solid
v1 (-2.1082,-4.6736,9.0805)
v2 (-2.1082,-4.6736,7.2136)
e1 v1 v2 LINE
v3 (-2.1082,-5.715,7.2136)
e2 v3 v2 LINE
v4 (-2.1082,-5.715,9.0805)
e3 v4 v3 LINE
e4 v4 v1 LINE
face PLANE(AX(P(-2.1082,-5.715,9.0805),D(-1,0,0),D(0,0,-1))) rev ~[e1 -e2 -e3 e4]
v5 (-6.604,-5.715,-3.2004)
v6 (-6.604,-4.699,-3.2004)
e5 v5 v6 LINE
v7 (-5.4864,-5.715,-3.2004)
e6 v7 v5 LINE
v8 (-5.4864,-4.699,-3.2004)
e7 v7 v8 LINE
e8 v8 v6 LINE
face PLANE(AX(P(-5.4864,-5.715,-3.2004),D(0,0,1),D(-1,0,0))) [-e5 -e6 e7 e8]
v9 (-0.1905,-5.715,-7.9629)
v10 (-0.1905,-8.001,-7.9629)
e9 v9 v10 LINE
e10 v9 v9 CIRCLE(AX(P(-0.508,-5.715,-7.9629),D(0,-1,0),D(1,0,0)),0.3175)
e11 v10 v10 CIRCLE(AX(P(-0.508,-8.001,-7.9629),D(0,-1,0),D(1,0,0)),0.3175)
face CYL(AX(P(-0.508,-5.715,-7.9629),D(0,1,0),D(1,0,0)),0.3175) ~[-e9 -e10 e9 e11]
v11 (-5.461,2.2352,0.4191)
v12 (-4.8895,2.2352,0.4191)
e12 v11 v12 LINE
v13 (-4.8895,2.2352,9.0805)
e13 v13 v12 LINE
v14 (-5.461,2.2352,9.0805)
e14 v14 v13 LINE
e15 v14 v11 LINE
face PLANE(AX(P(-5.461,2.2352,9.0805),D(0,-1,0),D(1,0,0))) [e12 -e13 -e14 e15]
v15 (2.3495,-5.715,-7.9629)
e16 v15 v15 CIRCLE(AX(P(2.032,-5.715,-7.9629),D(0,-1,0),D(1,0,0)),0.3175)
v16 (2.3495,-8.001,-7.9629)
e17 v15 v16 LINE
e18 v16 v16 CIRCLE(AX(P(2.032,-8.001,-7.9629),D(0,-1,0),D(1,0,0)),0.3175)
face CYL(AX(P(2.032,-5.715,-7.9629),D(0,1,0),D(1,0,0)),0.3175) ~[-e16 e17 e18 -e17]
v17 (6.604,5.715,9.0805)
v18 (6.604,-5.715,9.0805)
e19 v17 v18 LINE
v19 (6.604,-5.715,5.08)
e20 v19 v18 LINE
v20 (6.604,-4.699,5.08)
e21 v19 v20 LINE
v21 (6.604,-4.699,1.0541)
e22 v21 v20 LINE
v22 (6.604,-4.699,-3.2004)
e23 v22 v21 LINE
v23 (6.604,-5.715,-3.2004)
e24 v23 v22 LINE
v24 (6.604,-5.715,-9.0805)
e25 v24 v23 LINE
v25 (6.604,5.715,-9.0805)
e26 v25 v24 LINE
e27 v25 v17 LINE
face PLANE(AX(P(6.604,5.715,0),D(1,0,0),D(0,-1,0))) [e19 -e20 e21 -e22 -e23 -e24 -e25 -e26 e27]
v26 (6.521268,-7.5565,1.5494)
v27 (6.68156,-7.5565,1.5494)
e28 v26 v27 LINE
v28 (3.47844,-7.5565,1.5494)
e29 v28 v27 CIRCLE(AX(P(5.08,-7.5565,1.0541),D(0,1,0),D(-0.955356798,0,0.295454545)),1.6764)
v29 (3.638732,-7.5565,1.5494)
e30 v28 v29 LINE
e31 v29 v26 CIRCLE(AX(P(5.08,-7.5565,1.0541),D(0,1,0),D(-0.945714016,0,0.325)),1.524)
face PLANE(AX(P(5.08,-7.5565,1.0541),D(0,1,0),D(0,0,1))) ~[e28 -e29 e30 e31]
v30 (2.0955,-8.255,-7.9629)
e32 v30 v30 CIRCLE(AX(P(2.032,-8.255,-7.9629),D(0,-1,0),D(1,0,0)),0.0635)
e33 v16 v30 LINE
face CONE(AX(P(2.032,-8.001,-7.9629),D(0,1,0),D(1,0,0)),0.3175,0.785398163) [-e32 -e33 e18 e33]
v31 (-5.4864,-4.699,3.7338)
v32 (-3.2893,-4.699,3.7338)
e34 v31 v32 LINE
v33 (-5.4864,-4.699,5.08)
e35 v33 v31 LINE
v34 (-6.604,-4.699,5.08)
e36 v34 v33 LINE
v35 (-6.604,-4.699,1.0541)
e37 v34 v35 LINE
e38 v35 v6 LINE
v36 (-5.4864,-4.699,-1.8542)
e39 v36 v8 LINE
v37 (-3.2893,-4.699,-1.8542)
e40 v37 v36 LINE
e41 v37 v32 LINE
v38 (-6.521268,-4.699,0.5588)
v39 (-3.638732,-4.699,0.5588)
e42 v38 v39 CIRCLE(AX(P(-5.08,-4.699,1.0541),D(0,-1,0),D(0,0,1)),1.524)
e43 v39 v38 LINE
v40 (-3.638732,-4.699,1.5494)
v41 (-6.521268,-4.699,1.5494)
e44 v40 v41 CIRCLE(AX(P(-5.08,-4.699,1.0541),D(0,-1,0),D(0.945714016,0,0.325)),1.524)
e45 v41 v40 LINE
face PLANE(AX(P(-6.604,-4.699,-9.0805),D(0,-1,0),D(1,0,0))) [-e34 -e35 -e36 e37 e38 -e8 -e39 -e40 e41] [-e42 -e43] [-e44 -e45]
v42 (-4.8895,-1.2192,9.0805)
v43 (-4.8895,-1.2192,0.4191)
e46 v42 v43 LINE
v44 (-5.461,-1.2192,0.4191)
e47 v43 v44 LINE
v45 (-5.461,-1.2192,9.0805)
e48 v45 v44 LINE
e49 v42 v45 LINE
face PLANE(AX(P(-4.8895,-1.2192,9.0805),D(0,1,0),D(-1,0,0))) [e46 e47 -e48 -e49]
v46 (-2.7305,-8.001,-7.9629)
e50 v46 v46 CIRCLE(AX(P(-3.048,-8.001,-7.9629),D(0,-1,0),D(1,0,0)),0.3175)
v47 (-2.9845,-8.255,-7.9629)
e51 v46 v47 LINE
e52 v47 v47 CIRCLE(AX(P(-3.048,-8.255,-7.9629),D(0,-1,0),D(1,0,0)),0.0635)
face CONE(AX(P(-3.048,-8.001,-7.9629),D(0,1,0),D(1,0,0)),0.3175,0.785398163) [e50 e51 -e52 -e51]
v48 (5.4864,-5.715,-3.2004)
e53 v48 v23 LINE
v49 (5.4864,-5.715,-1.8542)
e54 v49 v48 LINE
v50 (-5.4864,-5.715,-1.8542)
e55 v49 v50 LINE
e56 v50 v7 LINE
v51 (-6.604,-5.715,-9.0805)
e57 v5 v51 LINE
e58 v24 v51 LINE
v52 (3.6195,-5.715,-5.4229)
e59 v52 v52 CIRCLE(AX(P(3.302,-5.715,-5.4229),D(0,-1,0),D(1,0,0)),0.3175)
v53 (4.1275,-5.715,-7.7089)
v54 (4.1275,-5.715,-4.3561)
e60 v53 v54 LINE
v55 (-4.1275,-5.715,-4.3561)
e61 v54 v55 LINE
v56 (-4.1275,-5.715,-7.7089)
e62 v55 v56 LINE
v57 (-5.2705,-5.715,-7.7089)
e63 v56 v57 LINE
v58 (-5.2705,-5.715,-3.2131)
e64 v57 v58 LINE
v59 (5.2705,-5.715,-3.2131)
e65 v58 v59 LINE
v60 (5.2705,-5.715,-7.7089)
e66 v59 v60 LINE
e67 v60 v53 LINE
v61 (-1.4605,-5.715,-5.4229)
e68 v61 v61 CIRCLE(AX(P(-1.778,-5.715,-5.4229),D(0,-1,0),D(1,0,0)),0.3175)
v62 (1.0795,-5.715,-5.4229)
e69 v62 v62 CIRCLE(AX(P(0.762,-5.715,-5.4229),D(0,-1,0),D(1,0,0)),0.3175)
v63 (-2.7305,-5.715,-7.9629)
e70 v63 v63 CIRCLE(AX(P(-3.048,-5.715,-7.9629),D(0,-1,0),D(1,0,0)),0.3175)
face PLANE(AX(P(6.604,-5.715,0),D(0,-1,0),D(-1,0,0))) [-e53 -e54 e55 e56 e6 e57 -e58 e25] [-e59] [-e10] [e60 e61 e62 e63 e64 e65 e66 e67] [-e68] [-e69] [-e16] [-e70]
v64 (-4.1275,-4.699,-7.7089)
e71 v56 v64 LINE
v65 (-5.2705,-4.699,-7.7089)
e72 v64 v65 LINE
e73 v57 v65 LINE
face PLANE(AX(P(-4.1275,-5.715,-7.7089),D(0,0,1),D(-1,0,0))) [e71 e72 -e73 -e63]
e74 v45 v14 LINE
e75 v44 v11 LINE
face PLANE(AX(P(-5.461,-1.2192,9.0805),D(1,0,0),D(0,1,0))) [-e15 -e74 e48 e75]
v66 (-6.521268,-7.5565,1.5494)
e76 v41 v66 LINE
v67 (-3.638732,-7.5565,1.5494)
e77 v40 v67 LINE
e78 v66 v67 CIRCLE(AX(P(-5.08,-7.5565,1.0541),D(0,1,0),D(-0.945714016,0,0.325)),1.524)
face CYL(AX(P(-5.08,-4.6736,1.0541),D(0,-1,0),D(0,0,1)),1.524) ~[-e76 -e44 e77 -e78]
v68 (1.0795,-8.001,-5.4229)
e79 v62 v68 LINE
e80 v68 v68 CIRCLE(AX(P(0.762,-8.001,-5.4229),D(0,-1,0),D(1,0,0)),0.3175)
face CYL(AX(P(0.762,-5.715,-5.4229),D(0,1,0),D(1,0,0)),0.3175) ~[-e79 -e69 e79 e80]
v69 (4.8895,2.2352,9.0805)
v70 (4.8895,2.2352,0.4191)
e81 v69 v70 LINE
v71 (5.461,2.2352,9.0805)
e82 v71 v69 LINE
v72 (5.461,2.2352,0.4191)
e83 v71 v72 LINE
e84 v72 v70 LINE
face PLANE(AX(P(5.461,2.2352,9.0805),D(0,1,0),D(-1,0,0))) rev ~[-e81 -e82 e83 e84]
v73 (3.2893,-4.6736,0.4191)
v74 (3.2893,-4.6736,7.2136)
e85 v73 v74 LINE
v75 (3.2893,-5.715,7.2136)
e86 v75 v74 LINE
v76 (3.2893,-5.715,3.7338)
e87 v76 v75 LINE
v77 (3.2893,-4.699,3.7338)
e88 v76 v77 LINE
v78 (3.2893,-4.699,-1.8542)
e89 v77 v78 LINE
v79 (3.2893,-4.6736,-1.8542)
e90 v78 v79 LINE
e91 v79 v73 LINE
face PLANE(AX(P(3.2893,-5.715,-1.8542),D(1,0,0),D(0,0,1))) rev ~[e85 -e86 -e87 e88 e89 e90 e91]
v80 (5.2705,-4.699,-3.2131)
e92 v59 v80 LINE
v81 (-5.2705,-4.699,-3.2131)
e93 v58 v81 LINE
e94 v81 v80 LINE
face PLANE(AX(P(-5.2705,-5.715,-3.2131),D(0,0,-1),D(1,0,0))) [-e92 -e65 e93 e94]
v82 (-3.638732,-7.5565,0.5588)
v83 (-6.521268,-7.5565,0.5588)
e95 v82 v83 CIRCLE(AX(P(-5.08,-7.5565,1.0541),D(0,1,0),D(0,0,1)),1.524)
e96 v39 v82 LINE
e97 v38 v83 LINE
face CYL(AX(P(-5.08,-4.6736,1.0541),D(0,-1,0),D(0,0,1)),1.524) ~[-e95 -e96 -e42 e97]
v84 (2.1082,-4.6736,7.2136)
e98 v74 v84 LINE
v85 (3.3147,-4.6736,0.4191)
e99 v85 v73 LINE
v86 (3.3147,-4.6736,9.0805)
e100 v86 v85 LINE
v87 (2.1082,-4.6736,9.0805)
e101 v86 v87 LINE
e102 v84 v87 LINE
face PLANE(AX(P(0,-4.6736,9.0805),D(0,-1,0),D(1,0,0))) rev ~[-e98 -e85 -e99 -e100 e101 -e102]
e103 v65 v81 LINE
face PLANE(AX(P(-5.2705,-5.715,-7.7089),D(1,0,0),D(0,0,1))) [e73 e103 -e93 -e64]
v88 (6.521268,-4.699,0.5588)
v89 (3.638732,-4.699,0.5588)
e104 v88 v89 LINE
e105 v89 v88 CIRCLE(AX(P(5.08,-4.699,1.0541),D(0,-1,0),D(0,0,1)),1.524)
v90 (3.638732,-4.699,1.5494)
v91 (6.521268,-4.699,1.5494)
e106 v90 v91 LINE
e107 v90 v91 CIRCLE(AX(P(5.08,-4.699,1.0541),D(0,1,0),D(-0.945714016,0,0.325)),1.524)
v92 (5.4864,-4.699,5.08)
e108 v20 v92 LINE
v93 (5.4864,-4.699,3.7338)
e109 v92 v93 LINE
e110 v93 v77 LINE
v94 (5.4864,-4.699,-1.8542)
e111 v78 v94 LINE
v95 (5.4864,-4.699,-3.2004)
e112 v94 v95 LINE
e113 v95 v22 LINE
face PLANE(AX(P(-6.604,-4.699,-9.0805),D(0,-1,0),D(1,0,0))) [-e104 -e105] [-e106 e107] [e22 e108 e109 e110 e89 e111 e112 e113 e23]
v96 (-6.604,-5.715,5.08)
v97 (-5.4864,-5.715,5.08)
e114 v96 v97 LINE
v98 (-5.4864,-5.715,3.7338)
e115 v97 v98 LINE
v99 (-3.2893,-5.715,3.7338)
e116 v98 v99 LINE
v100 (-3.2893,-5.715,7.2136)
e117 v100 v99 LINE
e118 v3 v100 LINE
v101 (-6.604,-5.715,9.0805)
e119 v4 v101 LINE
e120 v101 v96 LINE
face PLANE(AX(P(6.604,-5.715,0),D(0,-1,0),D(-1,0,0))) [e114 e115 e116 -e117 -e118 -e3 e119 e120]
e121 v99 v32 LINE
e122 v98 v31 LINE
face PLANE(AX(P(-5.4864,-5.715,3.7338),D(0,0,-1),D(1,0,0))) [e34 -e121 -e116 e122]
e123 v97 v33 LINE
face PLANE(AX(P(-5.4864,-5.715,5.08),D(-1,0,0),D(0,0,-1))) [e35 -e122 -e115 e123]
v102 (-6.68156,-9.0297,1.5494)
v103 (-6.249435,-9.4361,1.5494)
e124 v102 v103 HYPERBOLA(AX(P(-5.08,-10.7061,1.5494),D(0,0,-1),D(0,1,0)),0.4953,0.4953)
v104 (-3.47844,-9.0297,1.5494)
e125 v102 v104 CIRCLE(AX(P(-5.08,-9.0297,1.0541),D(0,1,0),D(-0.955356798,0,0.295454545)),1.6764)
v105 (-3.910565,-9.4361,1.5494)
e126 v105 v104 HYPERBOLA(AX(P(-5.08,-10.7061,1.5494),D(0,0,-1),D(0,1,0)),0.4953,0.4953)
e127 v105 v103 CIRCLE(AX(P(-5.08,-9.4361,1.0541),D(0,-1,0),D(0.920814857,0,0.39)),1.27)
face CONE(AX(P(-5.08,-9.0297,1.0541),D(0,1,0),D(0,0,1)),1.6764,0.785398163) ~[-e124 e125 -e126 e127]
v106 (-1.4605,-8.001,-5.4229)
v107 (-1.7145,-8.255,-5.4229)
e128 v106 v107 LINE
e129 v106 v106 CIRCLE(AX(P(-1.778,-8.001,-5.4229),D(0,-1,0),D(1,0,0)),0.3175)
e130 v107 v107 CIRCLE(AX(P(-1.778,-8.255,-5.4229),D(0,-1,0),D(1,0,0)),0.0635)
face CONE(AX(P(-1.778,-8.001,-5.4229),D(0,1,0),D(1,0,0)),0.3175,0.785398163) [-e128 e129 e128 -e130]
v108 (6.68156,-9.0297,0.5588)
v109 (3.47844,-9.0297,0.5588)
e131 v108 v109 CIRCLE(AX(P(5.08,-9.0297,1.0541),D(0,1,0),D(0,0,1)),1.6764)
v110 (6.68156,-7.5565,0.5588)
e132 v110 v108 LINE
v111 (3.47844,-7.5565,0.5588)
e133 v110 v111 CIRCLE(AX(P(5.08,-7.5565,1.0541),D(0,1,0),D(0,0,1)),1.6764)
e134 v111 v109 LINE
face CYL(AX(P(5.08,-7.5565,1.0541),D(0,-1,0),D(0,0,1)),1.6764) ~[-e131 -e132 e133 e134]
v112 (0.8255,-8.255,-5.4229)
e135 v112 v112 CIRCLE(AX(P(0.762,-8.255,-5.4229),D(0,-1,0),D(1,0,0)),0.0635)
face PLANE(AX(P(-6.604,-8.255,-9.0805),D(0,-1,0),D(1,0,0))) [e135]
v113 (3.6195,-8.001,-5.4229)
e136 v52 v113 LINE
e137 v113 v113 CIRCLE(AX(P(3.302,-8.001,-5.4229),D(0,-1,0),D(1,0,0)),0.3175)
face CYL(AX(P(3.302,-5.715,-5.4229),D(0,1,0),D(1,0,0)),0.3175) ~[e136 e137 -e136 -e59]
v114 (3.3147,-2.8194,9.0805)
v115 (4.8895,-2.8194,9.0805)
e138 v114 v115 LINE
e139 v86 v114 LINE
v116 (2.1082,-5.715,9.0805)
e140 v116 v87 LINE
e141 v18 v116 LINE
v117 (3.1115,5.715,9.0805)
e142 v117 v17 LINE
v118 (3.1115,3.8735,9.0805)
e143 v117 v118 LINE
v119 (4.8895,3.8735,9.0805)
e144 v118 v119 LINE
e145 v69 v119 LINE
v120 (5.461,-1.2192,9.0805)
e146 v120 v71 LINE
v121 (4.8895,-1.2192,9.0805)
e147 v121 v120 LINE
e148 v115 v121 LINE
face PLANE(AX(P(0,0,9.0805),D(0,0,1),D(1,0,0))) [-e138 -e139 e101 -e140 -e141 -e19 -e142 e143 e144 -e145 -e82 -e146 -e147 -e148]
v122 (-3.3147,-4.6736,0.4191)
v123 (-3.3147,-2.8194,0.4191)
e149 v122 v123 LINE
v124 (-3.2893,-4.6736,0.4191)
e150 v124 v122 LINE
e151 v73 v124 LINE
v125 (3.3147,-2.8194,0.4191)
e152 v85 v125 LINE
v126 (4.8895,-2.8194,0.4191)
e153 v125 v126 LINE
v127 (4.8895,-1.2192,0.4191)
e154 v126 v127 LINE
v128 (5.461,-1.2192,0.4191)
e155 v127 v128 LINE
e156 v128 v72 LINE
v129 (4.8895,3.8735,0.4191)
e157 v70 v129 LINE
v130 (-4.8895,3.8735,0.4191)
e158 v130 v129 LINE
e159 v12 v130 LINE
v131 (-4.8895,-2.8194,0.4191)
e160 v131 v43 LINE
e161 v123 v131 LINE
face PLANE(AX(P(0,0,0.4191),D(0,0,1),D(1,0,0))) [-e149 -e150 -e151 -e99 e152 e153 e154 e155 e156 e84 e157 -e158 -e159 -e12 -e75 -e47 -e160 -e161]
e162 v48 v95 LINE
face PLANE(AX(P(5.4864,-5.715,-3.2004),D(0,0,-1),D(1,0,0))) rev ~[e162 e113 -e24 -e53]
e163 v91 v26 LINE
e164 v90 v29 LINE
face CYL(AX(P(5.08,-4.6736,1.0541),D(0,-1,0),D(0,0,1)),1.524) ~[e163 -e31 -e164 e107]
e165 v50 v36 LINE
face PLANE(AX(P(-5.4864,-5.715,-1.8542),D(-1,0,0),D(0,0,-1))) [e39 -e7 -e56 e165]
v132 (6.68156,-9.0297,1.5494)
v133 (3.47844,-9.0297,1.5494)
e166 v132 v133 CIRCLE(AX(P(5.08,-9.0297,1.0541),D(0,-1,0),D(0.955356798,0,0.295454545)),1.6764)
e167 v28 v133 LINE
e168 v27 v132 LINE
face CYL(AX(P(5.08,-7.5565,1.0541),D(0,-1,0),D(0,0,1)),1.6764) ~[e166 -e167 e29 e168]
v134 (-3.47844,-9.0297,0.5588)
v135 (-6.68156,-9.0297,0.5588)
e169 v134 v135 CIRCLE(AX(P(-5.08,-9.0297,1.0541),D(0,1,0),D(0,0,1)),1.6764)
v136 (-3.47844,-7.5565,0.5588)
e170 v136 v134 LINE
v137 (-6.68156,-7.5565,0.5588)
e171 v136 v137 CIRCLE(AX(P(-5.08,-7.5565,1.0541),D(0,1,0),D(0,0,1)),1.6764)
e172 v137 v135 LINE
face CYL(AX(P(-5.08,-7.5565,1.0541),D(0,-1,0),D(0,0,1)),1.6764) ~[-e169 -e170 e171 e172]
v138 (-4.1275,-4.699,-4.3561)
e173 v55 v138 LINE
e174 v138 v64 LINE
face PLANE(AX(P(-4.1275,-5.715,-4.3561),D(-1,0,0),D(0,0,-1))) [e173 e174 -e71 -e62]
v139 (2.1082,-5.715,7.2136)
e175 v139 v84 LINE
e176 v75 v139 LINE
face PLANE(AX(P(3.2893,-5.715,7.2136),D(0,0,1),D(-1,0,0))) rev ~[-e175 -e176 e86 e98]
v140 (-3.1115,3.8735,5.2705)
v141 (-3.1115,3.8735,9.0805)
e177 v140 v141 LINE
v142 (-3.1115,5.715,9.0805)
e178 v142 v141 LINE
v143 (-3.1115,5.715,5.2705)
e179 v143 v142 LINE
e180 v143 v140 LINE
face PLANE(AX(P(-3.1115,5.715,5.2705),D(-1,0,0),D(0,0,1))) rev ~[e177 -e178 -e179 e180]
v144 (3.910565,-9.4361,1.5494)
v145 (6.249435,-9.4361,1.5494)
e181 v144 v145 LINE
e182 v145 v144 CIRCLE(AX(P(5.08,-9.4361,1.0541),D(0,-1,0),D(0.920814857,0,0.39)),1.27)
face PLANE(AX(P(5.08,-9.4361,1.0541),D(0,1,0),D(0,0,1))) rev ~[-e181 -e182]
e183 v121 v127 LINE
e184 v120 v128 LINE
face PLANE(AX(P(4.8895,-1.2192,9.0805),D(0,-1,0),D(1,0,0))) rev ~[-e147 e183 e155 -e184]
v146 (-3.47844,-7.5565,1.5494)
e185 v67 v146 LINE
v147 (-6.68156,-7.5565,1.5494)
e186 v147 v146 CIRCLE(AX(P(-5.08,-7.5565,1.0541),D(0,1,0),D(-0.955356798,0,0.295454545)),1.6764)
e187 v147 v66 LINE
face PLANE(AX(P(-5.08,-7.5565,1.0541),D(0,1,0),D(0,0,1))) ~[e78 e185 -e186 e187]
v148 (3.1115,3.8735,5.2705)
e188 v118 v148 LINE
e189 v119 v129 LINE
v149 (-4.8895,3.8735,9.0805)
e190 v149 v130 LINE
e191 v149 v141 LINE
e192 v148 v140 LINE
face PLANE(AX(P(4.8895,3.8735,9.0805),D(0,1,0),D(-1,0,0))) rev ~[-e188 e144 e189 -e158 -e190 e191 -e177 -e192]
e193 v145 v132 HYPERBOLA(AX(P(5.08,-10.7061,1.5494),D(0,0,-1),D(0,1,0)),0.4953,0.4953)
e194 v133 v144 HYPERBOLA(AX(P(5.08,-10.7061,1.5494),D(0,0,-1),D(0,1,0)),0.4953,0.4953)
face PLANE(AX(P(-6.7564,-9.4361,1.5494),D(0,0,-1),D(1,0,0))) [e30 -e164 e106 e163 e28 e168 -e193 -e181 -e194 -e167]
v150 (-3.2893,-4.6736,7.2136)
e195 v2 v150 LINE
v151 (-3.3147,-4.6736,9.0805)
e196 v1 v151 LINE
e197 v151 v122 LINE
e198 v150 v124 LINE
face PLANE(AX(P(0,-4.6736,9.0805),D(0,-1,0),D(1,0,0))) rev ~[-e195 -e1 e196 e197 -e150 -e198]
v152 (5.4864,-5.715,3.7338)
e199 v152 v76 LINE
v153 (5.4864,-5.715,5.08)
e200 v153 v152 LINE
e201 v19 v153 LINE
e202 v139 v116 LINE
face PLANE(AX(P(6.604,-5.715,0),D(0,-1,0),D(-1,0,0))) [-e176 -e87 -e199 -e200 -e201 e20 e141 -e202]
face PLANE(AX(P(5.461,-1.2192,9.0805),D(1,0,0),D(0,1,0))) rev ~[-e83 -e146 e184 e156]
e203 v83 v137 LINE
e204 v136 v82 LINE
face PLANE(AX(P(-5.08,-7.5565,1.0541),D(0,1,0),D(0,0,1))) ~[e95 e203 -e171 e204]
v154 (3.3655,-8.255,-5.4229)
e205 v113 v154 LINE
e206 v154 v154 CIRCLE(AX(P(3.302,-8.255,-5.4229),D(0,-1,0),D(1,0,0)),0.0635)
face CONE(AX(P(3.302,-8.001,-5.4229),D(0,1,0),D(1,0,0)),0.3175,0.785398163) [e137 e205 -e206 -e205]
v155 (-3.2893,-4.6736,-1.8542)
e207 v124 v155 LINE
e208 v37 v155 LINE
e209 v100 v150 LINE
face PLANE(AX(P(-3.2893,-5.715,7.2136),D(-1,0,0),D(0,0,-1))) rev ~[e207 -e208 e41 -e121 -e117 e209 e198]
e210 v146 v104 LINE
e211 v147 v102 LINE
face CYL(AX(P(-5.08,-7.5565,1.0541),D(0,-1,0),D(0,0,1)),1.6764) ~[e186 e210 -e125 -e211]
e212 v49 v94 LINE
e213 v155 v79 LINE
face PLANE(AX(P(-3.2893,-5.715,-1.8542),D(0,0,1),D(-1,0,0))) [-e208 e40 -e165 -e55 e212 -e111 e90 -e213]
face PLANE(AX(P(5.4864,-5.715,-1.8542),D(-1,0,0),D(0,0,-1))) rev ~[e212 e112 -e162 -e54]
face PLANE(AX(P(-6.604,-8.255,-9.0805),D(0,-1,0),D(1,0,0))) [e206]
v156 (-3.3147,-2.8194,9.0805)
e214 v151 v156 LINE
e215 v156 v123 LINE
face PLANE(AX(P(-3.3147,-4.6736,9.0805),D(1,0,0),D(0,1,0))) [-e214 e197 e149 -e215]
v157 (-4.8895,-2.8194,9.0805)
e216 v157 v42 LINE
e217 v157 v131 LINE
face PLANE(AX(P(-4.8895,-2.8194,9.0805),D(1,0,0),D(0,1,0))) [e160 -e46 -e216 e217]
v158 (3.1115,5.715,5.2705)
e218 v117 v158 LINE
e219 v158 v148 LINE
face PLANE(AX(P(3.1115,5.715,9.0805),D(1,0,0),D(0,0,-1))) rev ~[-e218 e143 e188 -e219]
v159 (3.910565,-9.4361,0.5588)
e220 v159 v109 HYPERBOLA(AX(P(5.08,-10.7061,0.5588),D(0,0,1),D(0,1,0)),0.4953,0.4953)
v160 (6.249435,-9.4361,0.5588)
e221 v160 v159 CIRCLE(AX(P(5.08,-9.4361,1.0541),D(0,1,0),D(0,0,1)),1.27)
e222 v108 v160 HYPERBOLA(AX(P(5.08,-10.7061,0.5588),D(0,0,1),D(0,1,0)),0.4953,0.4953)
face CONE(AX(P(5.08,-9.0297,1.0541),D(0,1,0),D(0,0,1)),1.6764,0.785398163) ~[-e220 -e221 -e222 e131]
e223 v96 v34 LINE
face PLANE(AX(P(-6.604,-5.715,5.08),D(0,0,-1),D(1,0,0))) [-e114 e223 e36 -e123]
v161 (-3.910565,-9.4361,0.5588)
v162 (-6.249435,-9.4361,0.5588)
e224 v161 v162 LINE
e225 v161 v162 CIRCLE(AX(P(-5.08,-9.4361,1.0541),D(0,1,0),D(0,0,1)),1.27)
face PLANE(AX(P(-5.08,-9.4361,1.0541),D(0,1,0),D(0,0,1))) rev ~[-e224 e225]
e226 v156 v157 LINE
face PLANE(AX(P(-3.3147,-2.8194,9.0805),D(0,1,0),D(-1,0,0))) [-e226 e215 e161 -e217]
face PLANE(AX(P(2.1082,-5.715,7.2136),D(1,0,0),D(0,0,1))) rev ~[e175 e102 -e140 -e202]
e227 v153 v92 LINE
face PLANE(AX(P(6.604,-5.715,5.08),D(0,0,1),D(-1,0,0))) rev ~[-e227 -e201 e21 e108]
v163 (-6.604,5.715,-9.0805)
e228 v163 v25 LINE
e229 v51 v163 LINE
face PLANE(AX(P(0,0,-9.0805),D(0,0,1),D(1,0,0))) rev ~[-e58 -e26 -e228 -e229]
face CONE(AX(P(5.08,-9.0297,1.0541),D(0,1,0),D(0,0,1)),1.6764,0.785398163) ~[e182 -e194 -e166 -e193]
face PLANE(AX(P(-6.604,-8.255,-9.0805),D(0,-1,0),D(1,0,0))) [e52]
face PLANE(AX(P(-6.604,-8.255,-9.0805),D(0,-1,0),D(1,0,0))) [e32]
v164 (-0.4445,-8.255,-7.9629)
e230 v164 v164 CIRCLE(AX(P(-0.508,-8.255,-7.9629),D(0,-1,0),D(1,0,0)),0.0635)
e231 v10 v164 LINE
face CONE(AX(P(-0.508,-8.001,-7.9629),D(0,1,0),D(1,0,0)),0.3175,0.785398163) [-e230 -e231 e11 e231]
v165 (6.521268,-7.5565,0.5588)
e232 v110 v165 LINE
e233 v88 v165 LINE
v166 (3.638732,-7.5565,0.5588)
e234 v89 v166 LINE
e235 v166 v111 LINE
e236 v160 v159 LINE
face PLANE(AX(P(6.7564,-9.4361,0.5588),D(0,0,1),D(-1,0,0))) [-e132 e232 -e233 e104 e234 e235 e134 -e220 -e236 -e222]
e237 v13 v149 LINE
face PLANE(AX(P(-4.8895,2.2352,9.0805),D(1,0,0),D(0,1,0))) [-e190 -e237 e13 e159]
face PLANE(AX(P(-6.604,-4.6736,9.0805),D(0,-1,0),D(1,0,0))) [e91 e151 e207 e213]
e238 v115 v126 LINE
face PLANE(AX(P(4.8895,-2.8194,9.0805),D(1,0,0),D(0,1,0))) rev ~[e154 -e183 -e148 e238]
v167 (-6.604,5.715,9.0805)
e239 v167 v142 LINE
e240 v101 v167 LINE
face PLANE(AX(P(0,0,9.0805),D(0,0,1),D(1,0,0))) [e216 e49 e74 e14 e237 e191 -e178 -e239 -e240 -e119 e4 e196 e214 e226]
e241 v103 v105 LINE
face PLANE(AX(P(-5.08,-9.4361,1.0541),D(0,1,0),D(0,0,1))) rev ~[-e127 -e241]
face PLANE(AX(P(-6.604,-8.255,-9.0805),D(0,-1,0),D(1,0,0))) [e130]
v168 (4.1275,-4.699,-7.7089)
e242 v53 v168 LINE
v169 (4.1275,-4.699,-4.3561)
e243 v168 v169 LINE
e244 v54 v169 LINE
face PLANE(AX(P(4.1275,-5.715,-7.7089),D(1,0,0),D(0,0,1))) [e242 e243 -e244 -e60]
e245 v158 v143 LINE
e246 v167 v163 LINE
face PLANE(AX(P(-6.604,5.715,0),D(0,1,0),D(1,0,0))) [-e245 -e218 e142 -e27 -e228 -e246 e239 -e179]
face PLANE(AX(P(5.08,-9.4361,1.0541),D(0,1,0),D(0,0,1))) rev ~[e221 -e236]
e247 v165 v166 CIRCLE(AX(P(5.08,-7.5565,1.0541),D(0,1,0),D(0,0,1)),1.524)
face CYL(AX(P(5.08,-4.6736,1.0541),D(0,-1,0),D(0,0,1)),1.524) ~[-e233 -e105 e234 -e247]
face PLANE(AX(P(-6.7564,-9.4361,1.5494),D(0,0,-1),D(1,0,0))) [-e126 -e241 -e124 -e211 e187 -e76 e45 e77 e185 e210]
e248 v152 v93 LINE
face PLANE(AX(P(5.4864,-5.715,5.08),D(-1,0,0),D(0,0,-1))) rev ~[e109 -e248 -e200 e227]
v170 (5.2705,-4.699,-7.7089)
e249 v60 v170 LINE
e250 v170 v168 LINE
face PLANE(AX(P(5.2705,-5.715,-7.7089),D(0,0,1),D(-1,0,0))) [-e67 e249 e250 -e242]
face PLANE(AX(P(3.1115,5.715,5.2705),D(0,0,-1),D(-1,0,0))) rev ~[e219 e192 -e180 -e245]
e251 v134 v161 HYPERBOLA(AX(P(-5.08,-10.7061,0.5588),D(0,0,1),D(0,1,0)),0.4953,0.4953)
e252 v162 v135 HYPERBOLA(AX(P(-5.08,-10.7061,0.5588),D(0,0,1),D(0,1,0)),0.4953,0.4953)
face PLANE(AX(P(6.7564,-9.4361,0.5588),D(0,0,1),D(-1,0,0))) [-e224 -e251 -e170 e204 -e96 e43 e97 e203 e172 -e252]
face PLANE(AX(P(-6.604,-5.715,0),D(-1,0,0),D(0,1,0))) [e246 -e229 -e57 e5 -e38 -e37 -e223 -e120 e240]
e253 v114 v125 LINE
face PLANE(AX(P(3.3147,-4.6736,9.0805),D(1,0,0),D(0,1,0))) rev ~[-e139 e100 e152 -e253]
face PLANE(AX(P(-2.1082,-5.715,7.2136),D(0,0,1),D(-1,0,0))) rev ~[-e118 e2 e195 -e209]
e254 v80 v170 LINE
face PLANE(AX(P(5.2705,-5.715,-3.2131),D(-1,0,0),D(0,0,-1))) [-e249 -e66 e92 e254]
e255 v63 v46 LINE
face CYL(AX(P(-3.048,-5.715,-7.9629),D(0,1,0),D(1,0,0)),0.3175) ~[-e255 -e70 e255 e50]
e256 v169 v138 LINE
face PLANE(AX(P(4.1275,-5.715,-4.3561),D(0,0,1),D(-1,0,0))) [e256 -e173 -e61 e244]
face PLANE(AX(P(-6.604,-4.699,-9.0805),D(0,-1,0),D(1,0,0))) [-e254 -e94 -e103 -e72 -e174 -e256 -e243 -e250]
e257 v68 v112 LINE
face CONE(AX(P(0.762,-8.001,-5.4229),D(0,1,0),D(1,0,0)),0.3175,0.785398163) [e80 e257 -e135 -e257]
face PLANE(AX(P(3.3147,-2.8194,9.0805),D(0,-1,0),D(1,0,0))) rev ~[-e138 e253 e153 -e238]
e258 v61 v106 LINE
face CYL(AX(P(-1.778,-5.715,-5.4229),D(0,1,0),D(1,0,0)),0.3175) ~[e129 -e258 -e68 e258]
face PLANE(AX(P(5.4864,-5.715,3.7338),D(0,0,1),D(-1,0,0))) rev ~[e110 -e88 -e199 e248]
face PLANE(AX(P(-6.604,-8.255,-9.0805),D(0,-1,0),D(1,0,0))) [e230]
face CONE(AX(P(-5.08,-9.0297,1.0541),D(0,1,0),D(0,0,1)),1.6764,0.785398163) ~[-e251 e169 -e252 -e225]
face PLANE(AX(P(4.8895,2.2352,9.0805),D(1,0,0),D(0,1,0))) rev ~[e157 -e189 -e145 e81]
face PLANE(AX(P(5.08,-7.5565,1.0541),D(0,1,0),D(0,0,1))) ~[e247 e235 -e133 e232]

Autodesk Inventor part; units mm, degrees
ref_plane "XZ Plane" through (0, 0, 0) normal (0, 1, 0) x (-1, 0, 0)
sketch "Sketch1" plane through (0, 0, 0) normal (0, 0, 1) x (1, 0, 0)
  line L0 (6.604, -5.715) -> (-6.604, -5.715)
  line L1 (-6.604, -5.715) -> (-6.604, 5.715)
  line L2 (-6.604, 5.715) -> (6.604, 5.715)
  line L3 (6.604, 5.715) -> (6.604, -5.715)
  line L4 (6.604, -5.715) -> (-6.604, 5.715) construction
  line L5 (-6.604, -5.715) -> (6.604, 5.715) construction
  point P0 (0, 0)
  dimension "d0" = 13.208
  dimension "d1" = 11.43
extrude "Extrusion1" add sketch "Sketch1" along normal mid plane 18.161
sketch "Sketch2" plane through (0, 0, 9.0805) normal (0, 0, 1) x (1, 0, 0)
  line L0 (0, -4.6736) -> (-3.3147, -4.6736)
  line L1 (-3.3147, -4.6736) -> (-3.3147, -2.8194)
  line L2 (-3.3147, -2.8194) -> (-4.8895, -2.8194)
  line L3 (-4.8895, -2.8194) -> (-4.8895, -1.2192)
  line L4 (-4.8895, -1.2192) -> (-5.461, -1.2192)
  line L5 (-5.461, -1.2192) -> (-5.461, 2.2352)
  line L6 (-5.461, 2.2352) -> (-4.8895, 2.2352)
  line L7 (-4.8895, 2.2352) -> (-4.8895, 3.8735)
  line L8 (-4.8895, 3.8735) -> (0, 3.8735)
  line L9 (0, 3.8735) -> (0, -4.6736) construction
  line L10 (6.604, 5.715) -> (-6.604, 5.715) construction
  line L11 (-6.604, -5.715) -> (6.604, -5.715) construction
  line L12 (0, -4.6736) -> (3.3147, -4.6736)
  line L13 (3.3147, -4.6736) -> (3.3147, -2.8194)
  line L14 (3.3147, -2.8194) -> (4.8895, -2.8194)
  line L15 (4.8895, -2.8194) -> (4.8895, -1.2192)
  line L16 (4.8895, -1.2192) -> (5.461, -1.2192)
  line L17 (5.461, -1.2192) -> (5.461, 2.2352)
  line L18 (5.461, 2.2352) -> (4.8895, 2.2352)
  line L19 (4.8895, 2.2352) -> (4.8895, 3.8735)
  line L20 (4.8895, 3.8735) -> (0, 3.8735)
  point P0 (0, 0)
  dimension "d17" = 1.8415
  dimension "d18" = 4.8895
  dimension "d19" = 5.461
  dimension "d20" = 1.0414
  dimension "d21" = 1.8542
  dimension "d22" = 4.4958
  dimension "d23" = 3.4798
  dimension "d24" = 3.3147
extrude "Extrusion2" cut sketch "Sketch2" against normal blind 8.6614
sketch "Sketch3" plane through (-6.604, 5.715, 9.0805) normal (0, 1, 0) x (1, 0, 0)
  line L0 (3.4925, 0) -> (9.7155, 0)
  line L1 (9.7155, 0) -> (9.7155, 3.81)
  line L2 (9.7155, 3.81) -> (3.4925, 3.81)
  line L3 (3.4925, 3.81) -> (3.4925, 0)
  line L4 (13.208, 0) -> (0, 0) projected
  point P0 (6.604, 9.0805)
  point P1 (6.604, 3.81)
  dimension "d27" = 6.223
  dimension "d28" = 3.81
extrude "Extrusion3" cut sketch "Sketch3" against normal up to surface (1.8415 mm away)
sketch "Sketch4" plane through (-6.604, -5.715, 9.0805) normal (0, -1, 0) x (1, 0, 0)
  line L0 (9.9187, 0) -> (3.2893, 0) projected
  line L1 (4.4958, 0) -> (4.4958, -1.8669)
  line L2 (4.4958, -1.8669) -> (3.3147, -1.8669)
  line L3 (3.3147, -1.8669) -> (3.3147, -10.9347)
  line L4 (3.3147, -10.9347) -> (9.8933, -10.9347)
  line L5 (9.8933, -10.9347) -> (9.8933, -1.8669)
  line L6 (9.8933, -1.8669) -> (8.7122, -1.8669)
  line L7 (8.7122, -1.8669) -> (8.7122, 0)
  line L8 (8.7122, 0) -> (4.4958, 0)
  point P0 (6.604, -9.0805)
  point P1 (6.604, 0)
  point P2 (6.604, -10.9347)
  dimension "d31" = 1.8669
  dimension "d32" = 4.2164
  dimension "d33" = 9.0678
  dimension "d34" = 6.5786
extrude "Extrusion4" cut sketch "Sketch4" against normal up to surface (1.0414 mm away)
sketch "Sketch5" plane through (-6.604, -5.715, -9.0805) normal (0, -1, 0) x (1, 0, 0)
  line L0 (0, 18.161) -> (0, 0) projected
  line L1 (0, 14.1605) -> (1.1176, 14.1605)
  line L2 (1.1176, 14.1605) -> (1.1176, 12.8143)
  line L3 (1.1176, 12.8143) -> (3.3147, 12.8143)
  line L4 (3.3147, 12.8143) -> (3.3147, 7.2263)
  line L5 (3.3147, 7.2263) -> (1.1176, 7.2263)
  line L6 (1.1176, 7.2263) -> (1.1176, 5.8801)
  line L7 (1.1176, 5.8801) -> (0, 5.8801)
  line L8 (0, 5.8801) -> (0, 14.1605)
  line L9 (3.3147, 7.2263) -> (3.3147, 16.2941) construction
  line L10 (6.604, 9.0805) -> (6.604, 17.5857) construction
  line L11 (1.3335, 1.3716) -> (1.3335, 5.8674)
  line L12 (1.3335, 5.8674) -> (11.8745, 5.8674)
  line L13 (11.8745, 5.8674) -> (11.8745, 1.3716)
  line L14 (11.8745, 1.3716) -> (10.7315, 1.3716)
  line L15 (10.7315, 1.3716) -> (10.7315, 4.7244)
  line L16 (10.7315, 4.7244) -> (2.4765, 4.7244)
  line L17 (2.4765, 4.7244) -> (2.4765, 1.3716)
  line L18 (2.4765, 1.3716) -> (1.3335, 1.3716)
  line L19 (13.208, 0) -> (0, 0) projected
  line L20 (13.208, 14.1605) -> (12.0904, 14.1605)
  line L21 (12.0904, 14.1605) -> (12.0904, 12.8143)
  line L22 (12.0904, 12.8143) -> (9.8933, 12.8143)
  line L23 (9.8933, 12.8143) -> (9.8933, 7.2263)
  line L24 (9.8933, 7.2263) -> (12.0904, 7.2263)
  line L25 (12.0904, 7.2263) -> (12.0904, 5.8801)
  line L26 (12.0904, 5.8801) -> (13.208, 5.8801)
  line L27 (13.208, 5.8801) -> (13.208, 14.1605)
  point P0 (6.604, 5.8674)
  dimension "d38" = 5.588
  dimension "d39" = 1.1176
  dimension "d41" = 8.2804
  dimension "d42" = 1.143
  dimension "d43" = 4.4958
  dimension "d44" = 1.143
  dimension "d45" = 1.3716
  dimension "d46" = 10.541
extrude "Extrusion5" cut sketch "Sketch5" against normal blind 1.016
ref_plane "Work Plane1" through (5.08, 0, 0) normal (1, 0, 0) x (0, 1, 0)
ref_plane "Work Plane2" through (-5.08, 0, 0) normal (1, 0, 0) x (0, 1, 0)
sketch "Sketch6" plane through (5.08, 0, 0) normal (1, 0, 0) x (0, 1, 0)
  line L0 (-4.6736, 2.5781) -> (-7.5565, 2.5781)
  line L1 (-7.5565, 2.5781) -> (-7.5565, 2.7305)
  line L2 (-7.5565, 2.7305) -> (-9.0297, 2.7305)
  line L3 (-9.0297, 2.7305) -> (-9.4361, 2.3241)
  line L4 (-9.4361, 2.3241) -> (-9.4361, 1.0541)
  line L5 (-9.4361, 1.0541) -> (-4.6736, 1.0541)
  line L6 (-4.6736, 2.5781) -> (-4.6736, 1.0541)
  line L7 (-4.6736, 9.0805) -> (-4.6736, 0.4191) construction
  line L8 (-4.6736, 9.0805) -> (-5.715, 9.0805) construction
  point P0 (0, 0)
  point P1 (0, 0)
  dimension "d51" = 1.524
  dimension "d53" = 1.6764
  dimension "d54" = 45
  dimension "d55" = 1.27
  dimension "d58" = 4.7625
  dimension "d59" = 1.4732
  dimension "d60" = 6.5024
revolve "Revolution1" add sketch "Sketch6" angle 360 about axis through (5.08, -9.4361, 1.0541) along (0, 1, 0)
sketch "Sketch7" plane through (-5.08, 0, 0) normal (1, 0, 0) x (0, 1, 0)
  line L0 (-4.6736, 2.5781) -> (-7.5565, 2.5781)
  line L1 (-7.5565, 2.5781) -> (-7.5565, 2.7305)
  line L2 (-7.5565, 2.7305) -> (-9.0297, 2.7305)
  line L3 (-9.0297, 2.7305) -> (-9.4361, 2.3241)
  line L4 (-9.4361, 2.3241) -> (-9.4361, 1.0541)
  line L5 (-9.4361, 1.0541) -> (-4.6736, 1.0541)
  line L6 (-4.6736, 2.5781) -> (-4.6736, 1.0541)
  line L7 (-4.6736, 9.0805) -> (-4.6736, 0.4191) construction
  line L8 (-4.6736, 9.0805) -> (-5.715, 9.0805) construction
  point P0 (0, 0)
  point P1 (0, 0)
  point P2 (0, 0)
  dimension "d62" = 1.524
  dimension "d63" = 1.6764
  dimension "d64" = 45
  dimension "d65" = 1.27
  dimension "d66" = 4.7625
  dimension "d67" = 1.4732
  dimension "d68" = 6.5024
revolve "Revolution2" add sketch "Sketch7" angle 360 about axis through (-5.08, -9.4361, 1.0541) along (0, 1, 0)
sketch "Sketch8" plane through (-5.08, -9.4361, 1.0541) normal (0, -1, 0) x (1, 0, 0)
  line L0 (-1.6764, 0.4953) -> (11.8364, 0.4953)
  line L1 (11.8364, 0.4953) -> (11.8364, -0.4953)
  line L2 (11.8364, -0.4953) -> (-1.6764, -0.4953)
  line L3 (-1.6764, -0.4953) -> (-1.6764, 0.4953)
  circle A0 centre (0, 0) radius 1.6764 construction
  circle A1 centre (10.16, 0) radius 1.6764 construction
  point P0 (5.08, -1.0541)
  point P1 (-1.6764, 0)
  point P2 (11.8364, 0)
  dimension "d70" = 0.9906
extrude "Extrusion6" cut sketch "Sketch8" against normal up to surface (4.7371 mm away)
sketch "Sketch9" plane through (-6.604, -5.715, -9.0805) normal (0, -1, 0) x (1, 0, 0)
  line L0 (9.7155, 14.351) -> (3.4925, 14.351)
  line L1 (9.7155, 18.161) -> (9.7155, 14.351)
  line L2 (3.4925, 14.351) -> (3.4925, 18.161)
  circle A0 centre (9.906, 3.6576) radius 0.3175
  circle A1 centre (8.636, 1.1176) radius 0.3175
  line L3 (9.7155, 14.351) -> (3.4925, 14.351) projected
  line L4 (13.208, 0) -> (13.208, 5.8801) projected
  line L5 (13.208, 0) -> (0, 0) projected
  circle A2 centre (7.366, 3.6576) radius 0.3175
  circle A3 centre (6.096, 1.1176) radius 0.3175
  circle A4 centre (4.826, 3.6576) radius 0.3175
  circle A5 centre (3.556, 1.1176) radius 0.3175
  point P0 (6.604, 9.0805)
  dimension "d73" = 3.302
  dimension "d74" = 2.54
  dimension "d75" = 1.27
  dimension "d76" = 3.6576
  dimension "d77" = 0.635
  dimension "d80" = 2.54
extrude "Extrusion7" add sketch "Sketch9" along normal blind 2.54 and the other way blind 1.27
chamfer "Chamfer1" distance 0.254 angle 45 6 edges at (1.7145, -8.255, -7.9629) (2.9845, -8.255, -5.4229) (0.4445, -8.255, -5.4229) (-0.8255, -8.255, -7.9629) (-2.0955, -8.255, -5.4229) (-3.3655, -8.255, -7.9629)
equation "\"d44\" = d42"
equation "\"d50\" = -d49"
equation "\"d49\" = 5.08"
properties part number "RJ12 - 90deg" material "Thermoplastic Resin"
